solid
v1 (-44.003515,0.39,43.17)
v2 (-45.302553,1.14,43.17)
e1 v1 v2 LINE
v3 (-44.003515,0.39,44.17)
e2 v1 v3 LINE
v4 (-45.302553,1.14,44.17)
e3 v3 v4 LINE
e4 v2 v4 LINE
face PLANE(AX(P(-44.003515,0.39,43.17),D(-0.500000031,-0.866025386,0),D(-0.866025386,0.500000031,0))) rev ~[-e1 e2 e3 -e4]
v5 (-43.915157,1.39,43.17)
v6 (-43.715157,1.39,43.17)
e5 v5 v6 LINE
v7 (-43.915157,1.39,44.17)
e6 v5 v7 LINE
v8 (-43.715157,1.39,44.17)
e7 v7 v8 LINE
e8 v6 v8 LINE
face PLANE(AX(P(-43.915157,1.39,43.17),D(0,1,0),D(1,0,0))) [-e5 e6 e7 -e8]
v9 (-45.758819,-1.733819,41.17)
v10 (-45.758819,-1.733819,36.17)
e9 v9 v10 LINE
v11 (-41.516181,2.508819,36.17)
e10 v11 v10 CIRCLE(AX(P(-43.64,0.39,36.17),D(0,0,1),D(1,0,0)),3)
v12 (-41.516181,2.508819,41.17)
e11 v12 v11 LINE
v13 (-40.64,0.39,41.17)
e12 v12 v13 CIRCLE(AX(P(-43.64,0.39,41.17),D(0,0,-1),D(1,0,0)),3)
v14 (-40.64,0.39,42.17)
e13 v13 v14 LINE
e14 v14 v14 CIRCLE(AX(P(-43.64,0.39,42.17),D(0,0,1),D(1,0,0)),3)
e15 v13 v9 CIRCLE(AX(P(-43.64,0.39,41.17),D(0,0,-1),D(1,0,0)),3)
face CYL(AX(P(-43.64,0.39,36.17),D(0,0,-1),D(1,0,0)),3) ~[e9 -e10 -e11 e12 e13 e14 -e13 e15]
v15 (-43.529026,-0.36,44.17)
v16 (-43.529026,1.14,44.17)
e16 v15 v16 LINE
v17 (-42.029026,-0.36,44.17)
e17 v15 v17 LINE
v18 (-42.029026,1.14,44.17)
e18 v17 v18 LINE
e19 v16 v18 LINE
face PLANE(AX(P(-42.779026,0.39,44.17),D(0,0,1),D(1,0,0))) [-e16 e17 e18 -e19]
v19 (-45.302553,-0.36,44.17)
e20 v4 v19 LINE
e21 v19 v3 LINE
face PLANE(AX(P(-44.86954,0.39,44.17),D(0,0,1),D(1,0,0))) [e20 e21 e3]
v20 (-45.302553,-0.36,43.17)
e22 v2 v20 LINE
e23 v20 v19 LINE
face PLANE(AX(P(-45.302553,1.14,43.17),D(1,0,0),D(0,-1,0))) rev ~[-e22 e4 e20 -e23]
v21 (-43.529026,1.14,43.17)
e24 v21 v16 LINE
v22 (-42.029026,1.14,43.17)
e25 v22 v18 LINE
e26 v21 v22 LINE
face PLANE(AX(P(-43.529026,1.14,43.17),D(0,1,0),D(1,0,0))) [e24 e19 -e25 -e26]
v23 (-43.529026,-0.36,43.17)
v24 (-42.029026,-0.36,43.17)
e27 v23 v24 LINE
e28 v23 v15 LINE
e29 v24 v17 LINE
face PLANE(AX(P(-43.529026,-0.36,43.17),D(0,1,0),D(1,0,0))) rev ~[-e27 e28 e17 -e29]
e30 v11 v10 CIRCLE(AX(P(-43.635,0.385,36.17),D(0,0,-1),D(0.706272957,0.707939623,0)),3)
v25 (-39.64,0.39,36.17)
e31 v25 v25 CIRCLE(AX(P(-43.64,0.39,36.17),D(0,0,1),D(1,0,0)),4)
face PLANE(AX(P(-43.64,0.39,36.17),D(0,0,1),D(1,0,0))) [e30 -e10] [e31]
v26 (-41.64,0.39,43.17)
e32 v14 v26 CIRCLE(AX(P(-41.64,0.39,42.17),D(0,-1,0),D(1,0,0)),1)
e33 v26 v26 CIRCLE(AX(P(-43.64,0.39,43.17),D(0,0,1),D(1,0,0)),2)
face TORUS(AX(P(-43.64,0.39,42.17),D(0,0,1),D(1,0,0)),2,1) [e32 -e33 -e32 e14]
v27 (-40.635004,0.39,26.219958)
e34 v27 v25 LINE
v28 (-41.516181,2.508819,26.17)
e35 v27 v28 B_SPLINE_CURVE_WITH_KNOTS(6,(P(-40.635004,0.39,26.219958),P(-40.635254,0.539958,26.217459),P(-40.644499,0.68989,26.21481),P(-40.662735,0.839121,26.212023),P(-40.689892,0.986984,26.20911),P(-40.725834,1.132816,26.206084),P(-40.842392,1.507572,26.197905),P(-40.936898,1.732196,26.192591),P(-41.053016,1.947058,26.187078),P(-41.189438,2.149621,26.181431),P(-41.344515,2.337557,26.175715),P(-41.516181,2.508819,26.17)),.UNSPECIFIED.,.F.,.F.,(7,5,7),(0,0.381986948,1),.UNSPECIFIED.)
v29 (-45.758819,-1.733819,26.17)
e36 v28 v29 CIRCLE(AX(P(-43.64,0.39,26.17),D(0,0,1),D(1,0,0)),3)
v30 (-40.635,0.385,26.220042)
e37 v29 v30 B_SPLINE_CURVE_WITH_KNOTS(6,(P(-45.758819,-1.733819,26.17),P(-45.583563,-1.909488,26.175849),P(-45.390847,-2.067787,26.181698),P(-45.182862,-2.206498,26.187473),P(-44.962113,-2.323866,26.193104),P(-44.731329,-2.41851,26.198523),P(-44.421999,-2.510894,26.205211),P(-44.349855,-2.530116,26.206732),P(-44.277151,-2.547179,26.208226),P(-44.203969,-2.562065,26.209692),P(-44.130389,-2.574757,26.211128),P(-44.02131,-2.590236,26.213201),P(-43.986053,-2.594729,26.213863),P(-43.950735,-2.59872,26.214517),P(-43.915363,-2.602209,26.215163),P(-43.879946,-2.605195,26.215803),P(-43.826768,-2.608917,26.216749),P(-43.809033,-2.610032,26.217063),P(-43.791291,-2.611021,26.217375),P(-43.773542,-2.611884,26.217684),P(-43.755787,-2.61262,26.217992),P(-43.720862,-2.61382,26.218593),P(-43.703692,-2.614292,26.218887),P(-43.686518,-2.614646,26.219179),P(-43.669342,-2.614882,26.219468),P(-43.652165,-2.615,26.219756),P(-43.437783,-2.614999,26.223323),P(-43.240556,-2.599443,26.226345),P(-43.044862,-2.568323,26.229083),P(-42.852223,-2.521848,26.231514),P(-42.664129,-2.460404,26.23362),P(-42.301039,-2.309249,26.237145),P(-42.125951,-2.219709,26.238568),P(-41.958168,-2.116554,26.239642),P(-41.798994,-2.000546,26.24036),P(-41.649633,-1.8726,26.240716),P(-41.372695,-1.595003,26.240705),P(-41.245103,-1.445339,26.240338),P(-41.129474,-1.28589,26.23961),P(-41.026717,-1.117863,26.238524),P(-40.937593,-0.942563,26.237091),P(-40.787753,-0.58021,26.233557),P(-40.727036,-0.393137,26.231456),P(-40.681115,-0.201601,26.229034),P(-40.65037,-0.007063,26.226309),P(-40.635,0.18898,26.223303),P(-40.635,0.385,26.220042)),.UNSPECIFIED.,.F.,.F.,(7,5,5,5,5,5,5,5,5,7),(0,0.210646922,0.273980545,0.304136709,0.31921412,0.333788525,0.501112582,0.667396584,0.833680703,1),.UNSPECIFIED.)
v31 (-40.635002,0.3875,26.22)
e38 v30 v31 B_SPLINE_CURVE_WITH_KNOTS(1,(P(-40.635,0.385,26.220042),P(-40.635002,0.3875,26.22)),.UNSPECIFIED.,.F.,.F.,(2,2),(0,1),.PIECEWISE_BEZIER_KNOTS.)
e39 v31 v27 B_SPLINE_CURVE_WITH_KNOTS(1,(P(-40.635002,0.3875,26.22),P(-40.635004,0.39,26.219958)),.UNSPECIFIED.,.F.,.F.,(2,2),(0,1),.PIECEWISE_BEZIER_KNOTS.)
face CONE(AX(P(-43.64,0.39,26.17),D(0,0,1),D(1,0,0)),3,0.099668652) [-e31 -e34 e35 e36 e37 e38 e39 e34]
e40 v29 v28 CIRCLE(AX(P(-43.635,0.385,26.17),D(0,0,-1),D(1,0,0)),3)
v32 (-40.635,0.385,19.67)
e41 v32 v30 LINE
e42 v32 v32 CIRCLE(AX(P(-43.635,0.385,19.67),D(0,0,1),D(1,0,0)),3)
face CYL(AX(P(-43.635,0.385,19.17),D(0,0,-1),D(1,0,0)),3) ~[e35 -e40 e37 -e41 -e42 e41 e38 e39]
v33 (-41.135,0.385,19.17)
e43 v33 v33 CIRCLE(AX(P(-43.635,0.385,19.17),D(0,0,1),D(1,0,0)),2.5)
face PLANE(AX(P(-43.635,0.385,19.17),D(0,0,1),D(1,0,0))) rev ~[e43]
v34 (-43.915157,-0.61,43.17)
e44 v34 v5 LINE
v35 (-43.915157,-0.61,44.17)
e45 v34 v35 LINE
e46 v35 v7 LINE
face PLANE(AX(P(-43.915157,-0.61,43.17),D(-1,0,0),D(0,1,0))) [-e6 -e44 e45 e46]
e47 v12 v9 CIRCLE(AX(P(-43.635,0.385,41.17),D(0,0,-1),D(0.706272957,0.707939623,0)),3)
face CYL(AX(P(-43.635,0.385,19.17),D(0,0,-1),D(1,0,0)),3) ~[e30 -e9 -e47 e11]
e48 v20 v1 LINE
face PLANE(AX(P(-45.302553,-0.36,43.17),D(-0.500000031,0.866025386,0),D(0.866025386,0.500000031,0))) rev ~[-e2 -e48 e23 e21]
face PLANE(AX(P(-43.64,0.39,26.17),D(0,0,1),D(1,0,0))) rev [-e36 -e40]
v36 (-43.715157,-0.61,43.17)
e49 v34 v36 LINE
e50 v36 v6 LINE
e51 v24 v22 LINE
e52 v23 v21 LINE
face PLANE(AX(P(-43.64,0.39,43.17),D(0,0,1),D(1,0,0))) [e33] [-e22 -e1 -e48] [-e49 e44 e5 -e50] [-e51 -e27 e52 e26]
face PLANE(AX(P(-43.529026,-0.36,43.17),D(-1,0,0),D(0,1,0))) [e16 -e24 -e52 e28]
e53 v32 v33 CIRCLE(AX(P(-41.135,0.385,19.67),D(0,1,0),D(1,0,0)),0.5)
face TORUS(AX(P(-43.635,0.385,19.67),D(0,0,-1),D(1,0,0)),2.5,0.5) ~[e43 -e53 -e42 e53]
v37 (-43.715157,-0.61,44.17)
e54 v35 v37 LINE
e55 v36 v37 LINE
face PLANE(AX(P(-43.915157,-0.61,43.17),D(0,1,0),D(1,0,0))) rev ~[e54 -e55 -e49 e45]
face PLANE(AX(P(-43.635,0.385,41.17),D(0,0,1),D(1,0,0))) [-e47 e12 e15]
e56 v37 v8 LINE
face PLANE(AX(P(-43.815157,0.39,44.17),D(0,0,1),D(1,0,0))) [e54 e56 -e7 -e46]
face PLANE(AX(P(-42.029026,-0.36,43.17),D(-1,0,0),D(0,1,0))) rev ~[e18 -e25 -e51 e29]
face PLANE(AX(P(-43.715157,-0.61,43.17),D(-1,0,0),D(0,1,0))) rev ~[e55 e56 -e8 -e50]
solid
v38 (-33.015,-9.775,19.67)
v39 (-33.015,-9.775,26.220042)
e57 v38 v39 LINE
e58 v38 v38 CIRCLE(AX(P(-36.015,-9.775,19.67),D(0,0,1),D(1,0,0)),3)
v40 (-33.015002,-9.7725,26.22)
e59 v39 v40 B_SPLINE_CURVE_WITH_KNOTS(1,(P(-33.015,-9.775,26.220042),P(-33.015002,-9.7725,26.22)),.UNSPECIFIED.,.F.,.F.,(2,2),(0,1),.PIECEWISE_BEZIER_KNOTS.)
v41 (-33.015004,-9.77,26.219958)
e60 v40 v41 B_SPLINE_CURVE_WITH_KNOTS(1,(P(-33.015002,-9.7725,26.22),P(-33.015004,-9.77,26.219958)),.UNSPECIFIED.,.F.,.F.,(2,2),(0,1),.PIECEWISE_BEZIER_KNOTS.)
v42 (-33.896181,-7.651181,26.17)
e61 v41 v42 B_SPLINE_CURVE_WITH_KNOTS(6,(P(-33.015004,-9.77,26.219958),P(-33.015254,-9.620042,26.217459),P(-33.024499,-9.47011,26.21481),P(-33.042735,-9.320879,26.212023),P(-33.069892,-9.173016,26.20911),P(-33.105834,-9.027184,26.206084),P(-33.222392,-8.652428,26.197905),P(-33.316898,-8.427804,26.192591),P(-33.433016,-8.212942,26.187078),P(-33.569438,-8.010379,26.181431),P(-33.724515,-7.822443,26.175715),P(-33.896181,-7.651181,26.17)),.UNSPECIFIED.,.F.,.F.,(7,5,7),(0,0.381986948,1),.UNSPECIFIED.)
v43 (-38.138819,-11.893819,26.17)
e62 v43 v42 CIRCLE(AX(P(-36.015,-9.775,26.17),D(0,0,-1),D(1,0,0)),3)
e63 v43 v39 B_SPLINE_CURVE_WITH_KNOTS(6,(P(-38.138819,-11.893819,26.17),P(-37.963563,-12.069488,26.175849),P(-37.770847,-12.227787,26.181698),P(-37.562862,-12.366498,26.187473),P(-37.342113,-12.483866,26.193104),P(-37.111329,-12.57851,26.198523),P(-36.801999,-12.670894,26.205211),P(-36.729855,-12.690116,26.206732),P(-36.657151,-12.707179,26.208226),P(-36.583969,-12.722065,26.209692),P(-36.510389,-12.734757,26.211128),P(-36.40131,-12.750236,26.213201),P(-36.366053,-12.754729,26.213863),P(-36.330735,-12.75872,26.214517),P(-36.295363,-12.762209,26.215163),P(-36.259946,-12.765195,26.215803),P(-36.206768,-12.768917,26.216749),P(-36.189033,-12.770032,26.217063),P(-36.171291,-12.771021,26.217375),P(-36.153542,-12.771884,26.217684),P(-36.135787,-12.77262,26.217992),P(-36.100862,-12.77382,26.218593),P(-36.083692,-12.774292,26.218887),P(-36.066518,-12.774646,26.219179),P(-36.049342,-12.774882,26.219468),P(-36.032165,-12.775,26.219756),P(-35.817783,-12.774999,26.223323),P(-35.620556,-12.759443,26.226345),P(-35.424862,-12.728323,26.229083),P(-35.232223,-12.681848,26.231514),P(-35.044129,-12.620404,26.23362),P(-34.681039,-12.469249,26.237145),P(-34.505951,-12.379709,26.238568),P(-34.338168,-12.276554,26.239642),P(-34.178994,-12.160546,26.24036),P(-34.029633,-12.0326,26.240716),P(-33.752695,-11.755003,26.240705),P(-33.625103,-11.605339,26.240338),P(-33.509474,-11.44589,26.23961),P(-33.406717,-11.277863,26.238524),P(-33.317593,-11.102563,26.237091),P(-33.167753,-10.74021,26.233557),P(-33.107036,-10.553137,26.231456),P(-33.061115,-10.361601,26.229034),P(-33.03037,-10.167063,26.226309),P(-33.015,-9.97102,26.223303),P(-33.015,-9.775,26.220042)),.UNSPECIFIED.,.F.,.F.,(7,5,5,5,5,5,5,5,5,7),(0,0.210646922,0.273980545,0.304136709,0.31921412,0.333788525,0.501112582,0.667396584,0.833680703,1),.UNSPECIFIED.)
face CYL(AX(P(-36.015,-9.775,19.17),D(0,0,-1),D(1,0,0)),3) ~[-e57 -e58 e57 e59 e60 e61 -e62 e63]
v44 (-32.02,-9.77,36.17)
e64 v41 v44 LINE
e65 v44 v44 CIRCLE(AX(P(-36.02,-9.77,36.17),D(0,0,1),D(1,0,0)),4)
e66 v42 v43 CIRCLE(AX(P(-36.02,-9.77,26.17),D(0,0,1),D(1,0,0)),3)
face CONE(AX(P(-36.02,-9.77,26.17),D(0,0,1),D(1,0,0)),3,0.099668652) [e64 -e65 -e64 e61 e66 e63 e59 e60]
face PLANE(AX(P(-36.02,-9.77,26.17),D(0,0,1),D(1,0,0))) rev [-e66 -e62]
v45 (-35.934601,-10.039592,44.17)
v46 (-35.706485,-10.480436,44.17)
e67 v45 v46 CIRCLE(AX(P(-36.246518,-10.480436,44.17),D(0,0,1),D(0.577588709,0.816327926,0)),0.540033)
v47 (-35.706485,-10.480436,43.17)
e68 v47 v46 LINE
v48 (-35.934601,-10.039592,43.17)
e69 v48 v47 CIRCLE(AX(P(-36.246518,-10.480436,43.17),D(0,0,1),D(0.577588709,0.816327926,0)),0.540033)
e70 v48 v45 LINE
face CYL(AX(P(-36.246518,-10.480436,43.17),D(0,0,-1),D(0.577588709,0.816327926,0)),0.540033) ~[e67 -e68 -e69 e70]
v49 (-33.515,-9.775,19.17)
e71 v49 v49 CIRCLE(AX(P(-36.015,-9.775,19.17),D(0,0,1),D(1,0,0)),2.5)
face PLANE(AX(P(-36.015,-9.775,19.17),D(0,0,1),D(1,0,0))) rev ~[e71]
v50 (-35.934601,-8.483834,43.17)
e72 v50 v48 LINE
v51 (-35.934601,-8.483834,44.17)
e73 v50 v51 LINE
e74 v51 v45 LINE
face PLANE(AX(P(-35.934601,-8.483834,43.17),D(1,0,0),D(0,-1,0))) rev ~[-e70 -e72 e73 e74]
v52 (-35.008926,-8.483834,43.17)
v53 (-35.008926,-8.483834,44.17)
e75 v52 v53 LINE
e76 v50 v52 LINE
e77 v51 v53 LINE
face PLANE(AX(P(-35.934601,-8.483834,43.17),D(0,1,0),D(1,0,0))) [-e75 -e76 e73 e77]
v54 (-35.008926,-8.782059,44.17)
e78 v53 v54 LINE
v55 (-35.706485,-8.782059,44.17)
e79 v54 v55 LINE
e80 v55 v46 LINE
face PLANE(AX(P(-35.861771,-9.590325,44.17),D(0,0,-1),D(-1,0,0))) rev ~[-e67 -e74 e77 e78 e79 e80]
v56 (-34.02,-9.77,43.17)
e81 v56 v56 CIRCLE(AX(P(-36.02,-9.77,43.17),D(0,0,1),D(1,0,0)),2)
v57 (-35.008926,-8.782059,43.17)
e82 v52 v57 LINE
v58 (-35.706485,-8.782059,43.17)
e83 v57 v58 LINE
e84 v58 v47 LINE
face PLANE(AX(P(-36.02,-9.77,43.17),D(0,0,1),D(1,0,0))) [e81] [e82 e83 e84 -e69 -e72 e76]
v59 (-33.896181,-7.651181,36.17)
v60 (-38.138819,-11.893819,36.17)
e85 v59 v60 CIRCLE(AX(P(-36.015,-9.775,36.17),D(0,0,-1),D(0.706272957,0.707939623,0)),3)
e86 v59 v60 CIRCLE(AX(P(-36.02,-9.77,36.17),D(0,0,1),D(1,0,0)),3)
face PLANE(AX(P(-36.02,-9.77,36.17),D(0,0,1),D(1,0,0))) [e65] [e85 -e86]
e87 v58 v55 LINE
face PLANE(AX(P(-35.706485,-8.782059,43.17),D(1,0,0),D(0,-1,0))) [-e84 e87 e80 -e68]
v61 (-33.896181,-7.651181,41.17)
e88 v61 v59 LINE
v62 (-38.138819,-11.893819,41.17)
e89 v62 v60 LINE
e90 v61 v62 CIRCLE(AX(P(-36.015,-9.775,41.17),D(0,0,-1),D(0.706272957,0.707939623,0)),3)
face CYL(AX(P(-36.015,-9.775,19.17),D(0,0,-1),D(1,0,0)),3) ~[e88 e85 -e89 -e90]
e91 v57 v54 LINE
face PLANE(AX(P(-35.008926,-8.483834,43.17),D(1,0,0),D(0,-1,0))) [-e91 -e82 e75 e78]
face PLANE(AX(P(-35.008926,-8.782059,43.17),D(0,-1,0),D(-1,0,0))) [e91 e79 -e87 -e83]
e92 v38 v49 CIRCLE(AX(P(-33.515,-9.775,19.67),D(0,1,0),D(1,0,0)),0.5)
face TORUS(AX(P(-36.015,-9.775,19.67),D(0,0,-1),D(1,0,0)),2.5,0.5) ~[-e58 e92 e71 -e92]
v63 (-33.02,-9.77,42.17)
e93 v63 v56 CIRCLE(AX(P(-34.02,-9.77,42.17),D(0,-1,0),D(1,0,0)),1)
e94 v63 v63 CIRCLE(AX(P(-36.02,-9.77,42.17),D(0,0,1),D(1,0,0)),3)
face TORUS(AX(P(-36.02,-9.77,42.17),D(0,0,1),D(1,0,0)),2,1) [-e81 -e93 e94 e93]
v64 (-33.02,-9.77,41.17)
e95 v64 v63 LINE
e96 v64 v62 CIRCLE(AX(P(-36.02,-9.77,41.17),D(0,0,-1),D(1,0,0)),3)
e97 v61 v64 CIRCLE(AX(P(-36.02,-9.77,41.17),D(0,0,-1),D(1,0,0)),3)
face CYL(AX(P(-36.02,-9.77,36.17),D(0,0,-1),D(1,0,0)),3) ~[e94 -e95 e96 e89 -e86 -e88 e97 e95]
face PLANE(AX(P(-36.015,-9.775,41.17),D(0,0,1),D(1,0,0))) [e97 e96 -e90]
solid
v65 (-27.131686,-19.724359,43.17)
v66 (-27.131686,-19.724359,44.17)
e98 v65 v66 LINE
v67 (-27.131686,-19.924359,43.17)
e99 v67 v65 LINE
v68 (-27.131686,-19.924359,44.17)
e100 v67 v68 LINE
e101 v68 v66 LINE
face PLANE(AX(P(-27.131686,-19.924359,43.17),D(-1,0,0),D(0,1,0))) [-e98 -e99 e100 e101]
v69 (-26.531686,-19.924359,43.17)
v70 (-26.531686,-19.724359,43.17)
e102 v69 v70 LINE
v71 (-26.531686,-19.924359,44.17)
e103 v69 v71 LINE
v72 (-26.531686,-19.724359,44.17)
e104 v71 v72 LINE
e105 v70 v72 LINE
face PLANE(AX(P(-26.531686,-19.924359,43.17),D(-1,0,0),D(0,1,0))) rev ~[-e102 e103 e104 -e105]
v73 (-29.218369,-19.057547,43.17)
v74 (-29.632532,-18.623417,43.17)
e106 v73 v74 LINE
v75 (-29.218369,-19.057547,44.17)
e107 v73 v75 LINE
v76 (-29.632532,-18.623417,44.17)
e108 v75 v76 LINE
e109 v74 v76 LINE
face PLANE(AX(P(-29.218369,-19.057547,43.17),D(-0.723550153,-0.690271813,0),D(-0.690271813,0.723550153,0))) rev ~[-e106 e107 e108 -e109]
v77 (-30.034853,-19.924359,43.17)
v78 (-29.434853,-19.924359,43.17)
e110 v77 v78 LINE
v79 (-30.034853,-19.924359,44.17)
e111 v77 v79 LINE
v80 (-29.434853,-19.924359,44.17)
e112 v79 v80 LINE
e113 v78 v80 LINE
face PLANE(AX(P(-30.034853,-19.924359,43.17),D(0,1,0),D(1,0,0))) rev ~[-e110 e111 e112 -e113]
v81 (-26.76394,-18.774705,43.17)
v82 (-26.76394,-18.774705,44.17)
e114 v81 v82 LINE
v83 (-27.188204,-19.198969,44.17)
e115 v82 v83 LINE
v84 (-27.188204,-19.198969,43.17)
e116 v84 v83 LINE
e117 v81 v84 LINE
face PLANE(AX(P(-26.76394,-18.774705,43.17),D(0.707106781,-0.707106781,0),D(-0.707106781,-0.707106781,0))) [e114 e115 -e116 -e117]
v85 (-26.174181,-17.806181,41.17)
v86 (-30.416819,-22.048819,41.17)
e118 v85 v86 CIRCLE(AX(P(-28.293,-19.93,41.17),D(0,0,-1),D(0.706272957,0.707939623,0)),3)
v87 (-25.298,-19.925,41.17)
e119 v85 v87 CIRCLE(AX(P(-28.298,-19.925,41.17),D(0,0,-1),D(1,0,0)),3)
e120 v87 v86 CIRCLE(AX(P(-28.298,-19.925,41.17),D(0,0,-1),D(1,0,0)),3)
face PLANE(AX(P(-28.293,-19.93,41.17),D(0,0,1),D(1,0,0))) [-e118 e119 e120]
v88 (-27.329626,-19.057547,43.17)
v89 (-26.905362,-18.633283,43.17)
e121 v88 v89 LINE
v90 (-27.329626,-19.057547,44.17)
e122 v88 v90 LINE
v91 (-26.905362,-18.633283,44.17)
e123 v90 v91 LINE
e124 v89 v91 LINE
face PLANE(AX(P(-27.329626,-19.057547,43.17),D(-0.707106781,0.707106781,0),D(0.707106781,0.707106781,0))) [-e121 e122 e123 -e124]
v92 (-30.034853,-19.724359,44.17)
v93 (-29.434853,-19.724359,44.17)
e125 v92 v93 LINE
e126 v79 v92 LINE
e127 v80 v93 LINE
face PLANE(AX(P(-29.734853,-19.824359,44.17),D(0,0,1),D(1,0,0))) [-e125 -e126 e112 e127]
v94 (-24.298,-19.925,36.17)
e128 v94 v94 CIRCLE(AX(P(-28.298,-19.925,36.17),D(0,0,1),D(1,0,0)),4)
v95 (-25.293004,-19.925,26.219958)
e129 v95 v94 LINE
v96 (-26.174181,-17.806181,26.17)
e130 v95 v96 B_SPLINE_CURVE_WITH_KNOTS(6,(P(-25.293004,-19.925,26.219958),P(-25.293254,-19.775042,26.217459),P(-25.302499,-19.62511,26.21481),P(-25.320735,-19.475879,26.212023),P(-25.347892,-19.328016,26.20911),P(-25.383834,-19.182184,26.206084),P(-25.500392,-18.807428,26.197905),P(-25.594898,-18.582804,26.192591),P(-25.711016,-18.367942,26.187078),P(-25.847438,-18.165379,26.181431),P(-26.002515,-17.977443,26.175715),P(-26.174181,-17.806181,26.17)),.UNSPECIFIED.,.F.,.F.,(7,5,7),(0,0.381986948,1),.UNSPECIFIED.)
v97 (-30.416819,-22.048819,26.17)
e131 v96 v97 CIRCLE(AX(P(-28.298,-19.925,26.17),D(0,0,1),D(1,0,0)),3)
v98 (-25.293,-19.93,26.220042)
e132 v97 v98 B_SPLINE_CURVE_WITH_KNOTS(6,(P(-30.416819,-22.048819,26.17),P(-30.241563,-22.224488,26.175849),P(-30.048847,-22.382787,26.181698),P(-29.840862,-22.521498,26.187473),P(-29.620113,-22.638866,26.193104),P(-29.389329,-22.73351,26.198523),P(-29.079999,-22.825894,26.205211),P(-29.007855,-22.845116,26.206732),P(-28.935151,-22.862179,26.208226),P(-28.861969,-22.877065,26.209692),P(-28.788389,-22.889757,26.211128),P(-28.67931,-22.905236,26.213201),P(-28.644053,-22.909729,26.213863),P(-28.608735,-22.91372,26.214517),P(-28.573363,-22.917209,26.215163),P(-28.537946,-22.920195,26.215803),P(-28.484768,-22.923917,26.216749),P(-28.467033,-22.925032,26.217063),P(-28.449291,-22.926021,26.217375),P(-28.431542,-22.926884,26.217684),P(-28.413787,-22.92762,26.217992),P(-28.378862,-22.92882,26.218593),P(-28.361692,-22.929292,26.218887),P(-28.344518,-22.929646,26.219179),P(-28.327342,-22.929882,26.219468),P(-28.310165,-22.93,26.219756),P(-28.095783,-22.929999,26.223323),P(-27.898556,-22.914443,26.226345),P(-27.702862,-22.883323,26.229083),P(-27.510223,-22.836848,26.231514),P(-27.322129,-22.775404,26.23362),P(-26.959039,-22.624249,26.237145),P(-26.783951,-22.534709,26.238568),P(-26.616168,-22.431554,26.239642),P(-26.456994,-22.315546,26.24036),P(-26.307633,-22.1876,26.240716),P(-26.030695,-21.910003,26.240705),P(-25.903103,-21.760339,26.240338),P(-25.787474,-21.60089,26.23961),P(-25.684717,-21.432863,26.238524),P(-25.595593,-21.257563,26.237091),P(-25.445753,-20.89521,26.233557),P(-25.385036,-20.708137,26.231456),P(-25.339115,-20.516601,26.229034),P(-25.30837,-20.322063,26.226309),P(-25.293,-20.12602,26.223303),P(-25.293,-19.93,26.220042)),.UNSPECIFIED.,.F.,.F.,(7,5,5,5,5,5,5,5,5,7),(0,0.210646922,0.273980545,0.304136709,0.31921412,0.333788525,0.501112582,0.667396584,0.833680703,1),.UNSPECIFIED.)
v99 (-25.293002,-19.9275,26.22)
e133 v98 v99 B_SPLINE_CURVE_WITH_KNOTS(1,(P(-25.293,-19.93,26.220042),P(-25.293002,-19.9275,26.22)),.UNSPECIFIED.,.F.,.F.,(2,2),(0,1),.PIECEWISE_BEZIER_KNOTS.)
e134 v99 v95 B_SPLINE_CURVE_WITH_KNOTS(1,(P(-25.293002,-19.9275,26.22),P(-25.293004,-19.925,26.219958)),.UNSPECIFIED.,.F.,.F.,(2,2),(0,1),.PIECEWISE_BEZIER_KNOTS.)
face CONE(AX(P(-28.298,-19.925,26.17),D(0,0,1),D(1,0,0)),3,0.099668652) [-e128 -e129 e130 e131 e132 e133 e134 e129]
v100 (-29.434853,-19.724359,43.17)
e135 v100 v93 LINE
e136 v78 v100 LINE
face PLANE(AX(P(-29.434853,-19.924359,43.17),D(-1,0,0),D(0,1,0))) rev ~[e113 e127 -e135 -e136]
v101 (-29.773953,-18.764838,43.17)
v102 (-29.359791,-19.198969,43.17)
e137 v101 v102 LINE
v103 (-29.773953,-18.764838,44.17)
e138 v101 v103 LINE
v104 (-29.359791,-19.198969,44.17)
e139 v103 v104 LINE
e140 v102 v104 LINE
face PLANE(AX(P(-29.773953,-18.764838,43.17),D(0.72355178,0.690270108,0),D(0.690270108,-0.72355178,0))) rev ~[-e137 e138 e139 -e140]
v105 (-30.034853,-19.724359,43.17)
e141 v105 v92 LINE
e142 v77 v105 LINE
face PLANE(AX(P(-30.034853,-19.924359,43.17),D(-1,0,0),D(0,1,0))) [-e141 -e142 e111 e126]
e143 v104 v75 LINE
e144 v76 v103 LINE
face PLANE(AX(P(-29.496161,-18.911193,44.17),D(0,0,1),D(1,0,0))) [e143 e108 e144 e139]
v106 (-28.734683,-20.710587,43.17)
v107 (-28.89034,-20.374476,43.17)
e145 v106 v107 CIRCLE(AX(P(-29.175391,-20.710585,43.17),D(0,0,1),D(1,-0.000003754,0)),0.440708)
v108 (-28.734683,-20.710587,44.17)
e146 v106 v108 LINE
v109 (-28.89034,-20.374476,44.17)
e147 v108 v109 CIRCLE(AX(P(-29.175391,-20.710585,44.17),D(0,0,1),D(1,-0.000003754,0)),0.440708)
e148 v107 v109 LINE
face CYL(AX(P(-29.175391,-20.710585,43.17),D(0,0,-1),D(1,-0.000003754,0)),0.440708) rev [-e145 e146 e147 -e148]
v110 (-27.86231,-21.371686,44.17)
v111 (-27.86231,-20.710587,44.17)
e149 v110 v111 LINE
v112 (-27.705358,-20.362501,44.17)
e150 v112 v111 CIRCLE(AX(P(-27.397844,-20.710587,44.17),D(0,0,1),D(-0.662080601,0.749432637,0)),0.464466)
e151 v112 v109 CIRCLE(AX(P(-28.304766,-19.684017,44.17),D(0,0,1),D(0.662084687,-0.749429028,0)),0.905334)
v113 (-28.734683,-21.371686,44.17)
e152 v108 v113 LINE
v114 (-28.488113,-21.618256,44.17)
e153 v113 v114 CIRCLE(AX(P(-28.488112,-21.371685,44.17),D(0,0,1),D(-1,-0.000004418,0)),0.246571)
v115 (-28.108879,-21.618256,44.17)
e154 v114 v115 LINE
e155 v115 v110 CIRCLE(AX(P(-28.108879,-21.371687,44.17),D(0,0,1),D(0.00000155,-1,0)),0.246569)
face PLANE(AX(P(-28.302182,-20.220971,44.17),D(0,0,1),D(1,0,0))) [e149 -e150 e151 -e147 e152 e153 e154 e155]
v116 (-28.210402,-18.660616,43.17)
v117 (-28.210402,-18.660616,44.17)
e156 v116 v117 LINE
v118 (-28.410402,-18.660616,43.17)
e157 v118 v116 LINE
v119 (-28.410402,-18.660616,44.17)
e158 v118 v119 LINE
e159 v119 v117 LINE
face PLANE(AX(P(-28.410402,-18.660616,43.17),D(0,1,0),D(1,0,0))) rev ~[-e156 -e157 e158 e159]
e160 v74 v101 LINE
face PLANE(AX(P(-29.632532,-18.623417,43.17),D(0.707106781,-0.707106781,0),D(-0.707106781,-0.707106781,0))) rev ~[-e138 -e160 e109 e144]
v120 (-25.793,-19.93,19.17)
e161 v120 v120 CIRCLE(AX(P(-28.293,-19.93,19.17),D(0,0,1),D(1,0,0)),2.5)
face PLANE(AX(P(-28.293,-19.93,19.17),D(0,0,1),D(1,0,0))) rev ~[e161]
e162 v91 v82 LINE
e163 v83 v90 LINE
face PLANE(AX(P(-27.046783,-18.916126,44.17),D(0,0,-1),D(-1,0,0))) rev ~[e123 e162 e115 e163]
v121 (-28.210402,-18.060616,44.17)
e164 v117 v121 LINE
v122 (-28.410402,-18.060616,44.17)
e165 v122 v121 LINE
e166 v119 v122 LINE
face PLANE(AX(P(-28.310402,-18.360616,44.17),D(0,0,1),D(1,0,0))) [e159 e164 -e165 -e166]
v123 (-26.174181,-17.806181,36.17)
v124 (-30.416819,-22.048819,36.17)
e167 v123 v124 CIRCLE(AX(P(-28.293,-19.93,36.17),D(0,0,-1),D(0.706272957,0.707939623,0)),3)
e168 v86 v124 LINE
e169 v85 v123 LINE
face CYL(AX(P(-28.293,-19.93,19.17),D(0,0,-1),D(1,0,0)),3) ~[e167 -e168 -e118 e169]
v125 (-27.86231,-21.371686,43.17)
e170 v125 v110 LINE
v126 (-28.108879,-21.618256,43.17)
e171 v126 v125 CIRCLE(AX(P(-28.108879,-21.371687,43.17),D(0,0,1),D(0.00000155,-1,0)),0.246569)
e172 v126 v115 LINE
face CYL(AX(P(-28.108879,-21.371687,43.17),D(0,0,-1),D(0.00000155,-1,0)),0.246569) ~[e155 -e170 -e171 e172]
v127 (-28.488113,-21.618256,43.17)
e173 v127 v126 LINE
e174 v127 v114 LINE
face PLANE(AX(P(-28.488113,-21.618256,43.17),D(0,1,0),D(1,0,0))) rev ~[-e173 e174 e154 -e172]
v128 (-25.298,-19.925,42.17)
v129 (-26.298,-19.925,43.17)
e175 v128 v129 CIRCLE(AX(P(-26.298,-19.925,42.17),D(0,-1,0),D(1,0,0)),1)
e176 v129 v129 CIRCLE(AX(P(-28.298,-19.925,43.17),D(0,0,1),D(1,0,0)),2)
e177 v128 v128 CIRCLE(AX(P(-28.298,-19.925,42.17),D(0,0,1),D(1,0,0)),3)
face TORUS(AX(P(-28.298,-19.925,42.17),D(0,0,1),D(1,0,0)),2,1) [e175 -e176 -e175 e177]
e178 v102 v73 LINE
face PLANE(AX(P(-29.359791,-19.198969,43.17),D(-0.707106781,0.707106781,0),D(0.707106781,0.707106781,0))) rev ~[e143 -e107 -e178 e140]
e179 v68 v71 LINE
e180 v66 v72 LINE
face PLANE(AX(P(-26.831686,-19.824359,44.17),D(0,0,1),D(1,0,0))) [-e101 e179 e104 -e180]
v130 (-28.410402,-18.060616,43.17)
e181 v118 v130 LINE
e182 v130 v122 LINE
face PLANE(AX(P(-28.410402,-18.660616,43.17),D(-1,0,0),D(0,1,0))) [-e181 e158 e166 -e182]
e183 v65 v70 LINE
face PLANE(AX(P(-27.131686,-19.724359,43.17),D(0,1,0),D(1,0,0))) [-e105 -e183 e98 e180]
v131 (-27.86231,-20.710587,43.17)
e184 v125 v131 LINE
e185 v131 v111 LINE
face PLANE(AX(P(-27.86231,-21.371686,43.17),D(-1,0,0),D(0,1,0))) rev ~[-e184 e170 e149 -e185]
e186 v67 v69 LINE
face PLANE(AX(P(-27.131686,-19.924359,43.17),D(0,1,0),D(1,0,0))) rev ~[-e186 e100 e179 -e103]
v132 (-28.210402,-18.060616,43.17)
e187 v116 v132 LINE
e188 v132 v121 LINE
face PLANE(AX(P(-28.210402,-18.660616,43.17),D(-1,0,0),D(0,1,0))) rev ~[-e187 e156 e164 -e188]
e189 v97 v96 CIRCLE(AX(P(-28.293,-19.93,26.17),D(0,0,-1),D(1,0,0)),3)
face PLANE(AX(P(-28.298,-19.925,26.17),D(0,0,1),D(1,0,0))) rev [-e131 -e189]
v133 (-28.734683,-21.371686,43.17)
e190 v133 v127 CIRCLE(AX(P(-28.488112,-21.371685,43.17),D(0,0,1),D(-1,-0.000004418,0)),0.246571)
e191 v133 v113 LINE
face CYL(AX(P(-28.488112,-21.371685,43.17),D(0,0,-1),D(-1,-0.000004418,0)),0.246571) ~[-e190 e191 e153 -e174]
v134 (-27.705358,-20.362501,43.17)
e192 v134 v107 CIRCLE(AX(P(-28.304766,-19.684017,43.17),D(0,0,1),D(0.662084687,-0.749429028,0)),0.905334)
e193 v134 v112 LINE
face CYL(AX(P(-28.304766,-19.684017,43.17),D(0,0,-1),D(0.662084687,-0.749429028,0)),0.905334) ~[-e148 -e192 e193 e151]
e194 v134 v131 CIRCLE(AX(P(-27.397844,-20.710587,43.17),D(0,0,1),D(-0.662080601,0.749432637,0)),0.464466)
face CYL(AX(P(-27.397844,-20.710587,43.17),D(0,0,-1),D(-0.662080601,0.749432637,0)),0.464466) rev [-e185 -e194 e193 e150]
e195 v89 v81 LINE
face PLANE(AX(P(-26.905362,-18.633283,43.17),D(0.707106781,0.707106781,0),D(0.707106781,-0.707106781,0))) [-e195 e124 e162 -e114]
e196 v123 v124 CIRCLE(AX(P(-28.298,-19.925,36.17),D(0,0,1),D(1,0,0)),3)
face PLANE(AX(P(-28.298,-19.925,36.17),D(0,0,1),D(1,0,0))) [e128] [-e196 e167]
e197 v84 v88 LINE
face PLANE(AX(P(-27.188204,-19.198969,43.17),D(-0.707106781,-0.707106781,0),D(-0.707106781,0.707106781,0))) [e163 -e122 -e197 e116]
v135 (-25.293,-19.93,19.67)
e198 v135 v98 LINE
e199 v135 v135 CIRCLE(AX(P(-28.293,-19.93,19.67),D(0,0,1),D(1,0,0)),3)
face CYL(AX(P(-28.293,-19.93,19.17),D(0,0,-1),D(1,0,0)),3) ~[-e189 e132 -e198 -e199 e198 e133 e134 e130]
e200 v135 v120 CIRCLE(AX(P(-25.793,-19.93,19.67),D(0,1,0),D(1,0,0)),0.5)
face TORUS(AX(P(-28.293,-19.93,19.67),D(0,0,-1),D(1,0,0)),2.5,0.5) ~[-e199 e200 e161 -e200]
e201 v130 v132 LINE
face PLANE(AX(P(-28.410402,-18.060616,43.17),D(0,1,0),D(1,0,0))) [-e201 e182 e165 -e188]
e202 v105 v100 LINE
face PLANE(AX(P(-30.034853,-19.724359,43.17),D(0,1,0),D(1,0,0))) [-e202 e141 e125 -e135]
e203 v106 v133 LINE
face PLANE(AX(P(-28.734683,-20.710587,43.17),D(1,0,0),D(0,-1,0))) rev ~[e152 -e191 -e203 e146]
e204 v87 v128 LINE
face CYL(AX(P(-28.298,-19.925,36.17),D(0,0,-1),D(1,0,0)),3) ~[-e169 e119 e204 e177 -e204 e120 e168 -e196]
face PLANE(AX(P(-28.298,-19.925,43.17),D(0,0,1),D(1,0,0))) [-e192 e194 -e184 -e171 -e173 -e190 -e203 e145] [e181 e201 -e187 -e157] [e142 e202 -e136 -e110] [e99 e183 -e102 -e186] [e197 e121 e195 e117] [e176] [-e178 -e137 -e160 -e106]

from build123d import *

# Parameters (mm, degrees)
CYLINDER002_R     = 3
CYLINDER002_DEPTH = 22
FILLET023_R       = 0.5
CYLINDER003_R     = 3
CYLINDER003_DEPTH = 7
FILLET022_R       = 1
CYLINDER004_R     = 3
CYLINDER004_DEPTH = 22
FILLET025_R       = 0.5
CYLINDER005_R     = 3
CYLINDER005_DEPTH = 7
FILLET024_R       = 1
CYLINDER024_R     = 3
CYLINDER024_DEPTH = 22
FILLET021_R       = 0.5
CYLINDER025_R     = 3
CYLINDER025_DEPTH = 7
FILLET020_R       = 1
SKETCH022_W       = 1.5
SKETCH022_H       = 1.5
SKETCH022_W_2     = 0.2
SKETCH022_H_2     = 2
SKETCH022_H_3     = 0.6
SKETCH022_W_3     = 0.6
SKETCH022_H_4     = 0.2
EXTRUDE005_DEPTH  = 1


with BuildPart() as fillet023:
    # Cylinder002 → Cylinder002 (new body)
    with BuildSketch(Plane(origin=(-43.635, 0.385, 10.17), x_dir=(1, 0, 0), z_dir=(0, 0, 1))):
        Circle(CYLINDER002_R)
    extrude(amount=CYLINDER002_DEPTH)

    # Fillet023
    fillet023_edges = [fillet023.edges().sort_by_distance(p)[0] for p in [
        (-46.635, 0.385, 10.17),
    ]]
    fillet(fillet023_edges, radius=FILLET023_R)


with BuildPart() as cone002:
    # Cone002 → Cone002 (revolve)
    with BuildSketch(Plane(origin=(-43.64, 0.39, 17.17), x_dir=(1, 0, 0), z_dir=(0, -1, 0))):
        Polygon((0, 0), (3, 0), (4, 10), (0, 10), align=None)
    revolve(axis=Axis((-43.64, 0.39, 17.17), (0, 0, 1)))


with BuildPart() as fusion017:
    # Cylinder003 → Cylinder003 (new body)
    with BuildSketch(Plane(origin=(-43.64, 0.39, 27.17), x_dir=(1, 0, 0), z_dir=(0, 0, 1))):
        Circle(CYLINDER003_R)
    extrude(amount=CYLINDER003_DEPTH)

    # Fillet022
    fillet022_edges = [fusion017.edges().sort_by_distance(p)[0] for p in [
        (-46.64, 0.39, 34.17),
    ]]
    fillet(fillet022_edges, radius=FILLET022_R)

    # Fusion017: union Fillet023, Cone002
    add(fillet023.part)
    add(cone002.part)


with BuildPart() as fusion017_1:
    # Fusion017 placement: moved
    add(fusion017.part.moved(Location((7.62, -10.16, 0))))


with BuildPart() as fillet025:
    # Cylinder004 → Cylinder004 (new body)
    with BuildSketch(Plane(origin=(-43.635, 0.385, 10.17), x_dir=(1, 0, 0), z_dir=(0, 0, 1))):
        Circle(CYLINDER004_R)
    extrude(amount=CYLINDER004_DEPTH)

    # Fillet025
    fillet025_edges = [fillet025.edges().sort_by_distance(p)[0] for p in [
        (-46.635, 0.385, 10.17),
    ]]
    fillet(fillet025_edges, radius=FILLET025_R)


with BuildPart() as cone003:
    # Cone003 → Cone003 (revolve)
    with BuildSketch(Plane(origin=(-43.64, 0.39, 17.17), x_dir=(1, 0, 0), z_dir=(0, -1, 0))):
        Polygon((0, 0), (3, 0), (4, 10), (0, 10), align=None)
    revolve(axis=Axis((-43.64, 0.39, 17.17), (0, 0, 1)))


with BuildPart() as fusion018:
    # Cylinder005 → Cylinder005 (new body)
    with BuildSketch(Plane(origin=(-43.64, 0.39, 27.17), x_dir=(1, 0, 0), z_dir=(0, 0, 1))):
        Circle(CYLINDER005_R)
    extrude(amount=CYLINDER005_DEPTH)

    # Fillet024
    fillet024_edges = [fusion018.edges().sort_by_distance(p)[0] for p in [
        (-46.64, 0.39, 34.17),
    ]]
    fillet(fillet024_edges, radius=FILLET024_R)

    # Fusion018: union Fillet025, Cone003
    add(fillet025.part)
    add(cone003.part)


with BuildPart() as fusion018_1:
    # Fusion018 placement: moved
    add(fusion018.part.moved(Location((15.342, -20.315, 0))))


with BuildPart() as fillet021:
    # Cylinder024 → Cylinder024 (new body)
    with BuildSketch(Plane(origin=(-43.635, 0.385, 10.17), x_dir=(1, 0, 0), z_dir=(0, 0, 1))):
        Circle(CYLINDER024_R)
    extrude(amount=CYLINDER024_DEPTH)

    # Fillet021
    fillet021_edges = [fillet021.edges().sort_by_distance(p)[0] for p in [
        (-46.635, 0.385, 10.17),
    ]]
    fillet(fillet021_edges, radius=FILLET021_R)


with BuildPart() as cone001:
    # Cone001 → Cone001 (revolve)
    with BuildSketch(Plane(origin=(-43.64, 0.39, 17.17), x_dir=(1, 0, 0), z_dir=(0, -1, 0))):
        Polygon((0, 0), (3, 0), (4, 10), (0, 10), align=None)
    revolve(axis=Axis((-43.64, 0.39, 17.17), (0, 0, 1)))


with BuildPart() as body020:
    # Cylinder025 → Cylinder025 (new body)
    with BuildSketch(Plane(origin=(-43.64, 0.39, 27.17), x_dir=(1, 0, 0), z_dir=(0, 0, 1))):
        Circle(CYLINDER025_R)
    extrude(amount=CYLINDER025_DEPTH)

    # Fillet020
    fillet020_edges = [body020.edges().sort_by_distance(p)[0] for p in [
        (-46.64, 0.39, 34.17),
    ]]
    fillet(fillet020_edges, radius=FILLET020_R)

    # Fusion016: union Fillet021, Cone001
    add(fillet021.part)
    add(cone001.part)

    # Compound001: union Fusion017, Fusion018
    add(fusion017_1.part)
    add(fusion018_1.part)


with BuildPart() as body020_1:
    # Compound001 placement: moved
    add(body020.part.moved(Location((0, 0, 9))))


with BuildPart() as body021:
    # Sketch022 (on Face12 of Clone020) → Extrude005 (new body)
    with BuildSketch(Plane.XY.offset(43.17)):
        with Locations((-42.779026, 0.39)):
            Rectangle(SKETCH022_W, SKETCH022_H)
        Polygon((-45.302553, 1.14), (-45.302553, -0.36), (-44.003515, 0.39), align=None)
        with Locations((-43.815157, 0.39)):
            Rectangle(SKETCH022_W_2, SKETCH022_H_2)
        with BuildLine():
            Line((-35.934601, -8.483834), (-35.008926, -8.483834))
            Line((-35.008926, -8.483834), (-35.008926, -8.782059))
            Line((-35.008926, -8.782059), (-35.706485, -8.782059))
            Line((-35.706485, -8.782059), (-35.706485, -10.480436))
            ThreePointArc((-35.934601, -10.039592), (-36.726143, -10.72862), (-35.706485, -10.480436))
            Line((-35.934601, -8.483834), (-35.934601, -10.039592))
        make_face()
        with BuildLine():
            Line((-28.734683, -20.710587), (-28.734683, -21.371686))
            ThreePointArc((-28.734683, -21.371686), (-28.662464, -21.546037), (-28.488113, -21.618256))
            Line((-28.488113, -21.618256), (-28.108879, -21.618256))
            ThreePointArc((-28.108879, -21.618256), (-27.934528, -21.546037), (-27.86231, -21.371686))
            Line((-27.86231, -21.371686), (-27.86231, -20.710587))
            ThreePointArc((-27.705358, -20.362501), (-27.821258, -20.51967), (-27.86231, -20.710587))
            ThreePointArc((-27.705358, -20.362501), (-28.313914, -18.778729), (-28.89034, -20.374476))
            ThreePointArc((-28.734683, -20.710587), (-28.775486, -20.525384), (-28.89034, -20.374476))
        make_face()
        with Locations((-28.310402, -18.360616)):
            Rectangle(SKETCH022_W_2, SKETCH022_H_3)
        with Locations((-29.734853, -19.824359)):
            Rectangle(SKETCH022_W_3, SKETCH022_H_4)
        with Locations((-26.831686, -19.824359)):
            Rectangle(SKETCH022_W_3, SKETCH022_H_4)
        Polygon((-27.329626, -19.057547), (-26.905362, -18.633283), (-26.76394, -18.774705), (-27.188204, -19.198969), align=None)
        Polygon((-29.359791, -19.198969), (-29.218369, -19.057547), (-29.632532, -18.623417), (-29.773953, -18.764838), align=None)
    extrude(amount=EXTRUDE005_DEPTH)

    # Fusion019: union Body020
    add(body020_1.part)


solid = body021.part
